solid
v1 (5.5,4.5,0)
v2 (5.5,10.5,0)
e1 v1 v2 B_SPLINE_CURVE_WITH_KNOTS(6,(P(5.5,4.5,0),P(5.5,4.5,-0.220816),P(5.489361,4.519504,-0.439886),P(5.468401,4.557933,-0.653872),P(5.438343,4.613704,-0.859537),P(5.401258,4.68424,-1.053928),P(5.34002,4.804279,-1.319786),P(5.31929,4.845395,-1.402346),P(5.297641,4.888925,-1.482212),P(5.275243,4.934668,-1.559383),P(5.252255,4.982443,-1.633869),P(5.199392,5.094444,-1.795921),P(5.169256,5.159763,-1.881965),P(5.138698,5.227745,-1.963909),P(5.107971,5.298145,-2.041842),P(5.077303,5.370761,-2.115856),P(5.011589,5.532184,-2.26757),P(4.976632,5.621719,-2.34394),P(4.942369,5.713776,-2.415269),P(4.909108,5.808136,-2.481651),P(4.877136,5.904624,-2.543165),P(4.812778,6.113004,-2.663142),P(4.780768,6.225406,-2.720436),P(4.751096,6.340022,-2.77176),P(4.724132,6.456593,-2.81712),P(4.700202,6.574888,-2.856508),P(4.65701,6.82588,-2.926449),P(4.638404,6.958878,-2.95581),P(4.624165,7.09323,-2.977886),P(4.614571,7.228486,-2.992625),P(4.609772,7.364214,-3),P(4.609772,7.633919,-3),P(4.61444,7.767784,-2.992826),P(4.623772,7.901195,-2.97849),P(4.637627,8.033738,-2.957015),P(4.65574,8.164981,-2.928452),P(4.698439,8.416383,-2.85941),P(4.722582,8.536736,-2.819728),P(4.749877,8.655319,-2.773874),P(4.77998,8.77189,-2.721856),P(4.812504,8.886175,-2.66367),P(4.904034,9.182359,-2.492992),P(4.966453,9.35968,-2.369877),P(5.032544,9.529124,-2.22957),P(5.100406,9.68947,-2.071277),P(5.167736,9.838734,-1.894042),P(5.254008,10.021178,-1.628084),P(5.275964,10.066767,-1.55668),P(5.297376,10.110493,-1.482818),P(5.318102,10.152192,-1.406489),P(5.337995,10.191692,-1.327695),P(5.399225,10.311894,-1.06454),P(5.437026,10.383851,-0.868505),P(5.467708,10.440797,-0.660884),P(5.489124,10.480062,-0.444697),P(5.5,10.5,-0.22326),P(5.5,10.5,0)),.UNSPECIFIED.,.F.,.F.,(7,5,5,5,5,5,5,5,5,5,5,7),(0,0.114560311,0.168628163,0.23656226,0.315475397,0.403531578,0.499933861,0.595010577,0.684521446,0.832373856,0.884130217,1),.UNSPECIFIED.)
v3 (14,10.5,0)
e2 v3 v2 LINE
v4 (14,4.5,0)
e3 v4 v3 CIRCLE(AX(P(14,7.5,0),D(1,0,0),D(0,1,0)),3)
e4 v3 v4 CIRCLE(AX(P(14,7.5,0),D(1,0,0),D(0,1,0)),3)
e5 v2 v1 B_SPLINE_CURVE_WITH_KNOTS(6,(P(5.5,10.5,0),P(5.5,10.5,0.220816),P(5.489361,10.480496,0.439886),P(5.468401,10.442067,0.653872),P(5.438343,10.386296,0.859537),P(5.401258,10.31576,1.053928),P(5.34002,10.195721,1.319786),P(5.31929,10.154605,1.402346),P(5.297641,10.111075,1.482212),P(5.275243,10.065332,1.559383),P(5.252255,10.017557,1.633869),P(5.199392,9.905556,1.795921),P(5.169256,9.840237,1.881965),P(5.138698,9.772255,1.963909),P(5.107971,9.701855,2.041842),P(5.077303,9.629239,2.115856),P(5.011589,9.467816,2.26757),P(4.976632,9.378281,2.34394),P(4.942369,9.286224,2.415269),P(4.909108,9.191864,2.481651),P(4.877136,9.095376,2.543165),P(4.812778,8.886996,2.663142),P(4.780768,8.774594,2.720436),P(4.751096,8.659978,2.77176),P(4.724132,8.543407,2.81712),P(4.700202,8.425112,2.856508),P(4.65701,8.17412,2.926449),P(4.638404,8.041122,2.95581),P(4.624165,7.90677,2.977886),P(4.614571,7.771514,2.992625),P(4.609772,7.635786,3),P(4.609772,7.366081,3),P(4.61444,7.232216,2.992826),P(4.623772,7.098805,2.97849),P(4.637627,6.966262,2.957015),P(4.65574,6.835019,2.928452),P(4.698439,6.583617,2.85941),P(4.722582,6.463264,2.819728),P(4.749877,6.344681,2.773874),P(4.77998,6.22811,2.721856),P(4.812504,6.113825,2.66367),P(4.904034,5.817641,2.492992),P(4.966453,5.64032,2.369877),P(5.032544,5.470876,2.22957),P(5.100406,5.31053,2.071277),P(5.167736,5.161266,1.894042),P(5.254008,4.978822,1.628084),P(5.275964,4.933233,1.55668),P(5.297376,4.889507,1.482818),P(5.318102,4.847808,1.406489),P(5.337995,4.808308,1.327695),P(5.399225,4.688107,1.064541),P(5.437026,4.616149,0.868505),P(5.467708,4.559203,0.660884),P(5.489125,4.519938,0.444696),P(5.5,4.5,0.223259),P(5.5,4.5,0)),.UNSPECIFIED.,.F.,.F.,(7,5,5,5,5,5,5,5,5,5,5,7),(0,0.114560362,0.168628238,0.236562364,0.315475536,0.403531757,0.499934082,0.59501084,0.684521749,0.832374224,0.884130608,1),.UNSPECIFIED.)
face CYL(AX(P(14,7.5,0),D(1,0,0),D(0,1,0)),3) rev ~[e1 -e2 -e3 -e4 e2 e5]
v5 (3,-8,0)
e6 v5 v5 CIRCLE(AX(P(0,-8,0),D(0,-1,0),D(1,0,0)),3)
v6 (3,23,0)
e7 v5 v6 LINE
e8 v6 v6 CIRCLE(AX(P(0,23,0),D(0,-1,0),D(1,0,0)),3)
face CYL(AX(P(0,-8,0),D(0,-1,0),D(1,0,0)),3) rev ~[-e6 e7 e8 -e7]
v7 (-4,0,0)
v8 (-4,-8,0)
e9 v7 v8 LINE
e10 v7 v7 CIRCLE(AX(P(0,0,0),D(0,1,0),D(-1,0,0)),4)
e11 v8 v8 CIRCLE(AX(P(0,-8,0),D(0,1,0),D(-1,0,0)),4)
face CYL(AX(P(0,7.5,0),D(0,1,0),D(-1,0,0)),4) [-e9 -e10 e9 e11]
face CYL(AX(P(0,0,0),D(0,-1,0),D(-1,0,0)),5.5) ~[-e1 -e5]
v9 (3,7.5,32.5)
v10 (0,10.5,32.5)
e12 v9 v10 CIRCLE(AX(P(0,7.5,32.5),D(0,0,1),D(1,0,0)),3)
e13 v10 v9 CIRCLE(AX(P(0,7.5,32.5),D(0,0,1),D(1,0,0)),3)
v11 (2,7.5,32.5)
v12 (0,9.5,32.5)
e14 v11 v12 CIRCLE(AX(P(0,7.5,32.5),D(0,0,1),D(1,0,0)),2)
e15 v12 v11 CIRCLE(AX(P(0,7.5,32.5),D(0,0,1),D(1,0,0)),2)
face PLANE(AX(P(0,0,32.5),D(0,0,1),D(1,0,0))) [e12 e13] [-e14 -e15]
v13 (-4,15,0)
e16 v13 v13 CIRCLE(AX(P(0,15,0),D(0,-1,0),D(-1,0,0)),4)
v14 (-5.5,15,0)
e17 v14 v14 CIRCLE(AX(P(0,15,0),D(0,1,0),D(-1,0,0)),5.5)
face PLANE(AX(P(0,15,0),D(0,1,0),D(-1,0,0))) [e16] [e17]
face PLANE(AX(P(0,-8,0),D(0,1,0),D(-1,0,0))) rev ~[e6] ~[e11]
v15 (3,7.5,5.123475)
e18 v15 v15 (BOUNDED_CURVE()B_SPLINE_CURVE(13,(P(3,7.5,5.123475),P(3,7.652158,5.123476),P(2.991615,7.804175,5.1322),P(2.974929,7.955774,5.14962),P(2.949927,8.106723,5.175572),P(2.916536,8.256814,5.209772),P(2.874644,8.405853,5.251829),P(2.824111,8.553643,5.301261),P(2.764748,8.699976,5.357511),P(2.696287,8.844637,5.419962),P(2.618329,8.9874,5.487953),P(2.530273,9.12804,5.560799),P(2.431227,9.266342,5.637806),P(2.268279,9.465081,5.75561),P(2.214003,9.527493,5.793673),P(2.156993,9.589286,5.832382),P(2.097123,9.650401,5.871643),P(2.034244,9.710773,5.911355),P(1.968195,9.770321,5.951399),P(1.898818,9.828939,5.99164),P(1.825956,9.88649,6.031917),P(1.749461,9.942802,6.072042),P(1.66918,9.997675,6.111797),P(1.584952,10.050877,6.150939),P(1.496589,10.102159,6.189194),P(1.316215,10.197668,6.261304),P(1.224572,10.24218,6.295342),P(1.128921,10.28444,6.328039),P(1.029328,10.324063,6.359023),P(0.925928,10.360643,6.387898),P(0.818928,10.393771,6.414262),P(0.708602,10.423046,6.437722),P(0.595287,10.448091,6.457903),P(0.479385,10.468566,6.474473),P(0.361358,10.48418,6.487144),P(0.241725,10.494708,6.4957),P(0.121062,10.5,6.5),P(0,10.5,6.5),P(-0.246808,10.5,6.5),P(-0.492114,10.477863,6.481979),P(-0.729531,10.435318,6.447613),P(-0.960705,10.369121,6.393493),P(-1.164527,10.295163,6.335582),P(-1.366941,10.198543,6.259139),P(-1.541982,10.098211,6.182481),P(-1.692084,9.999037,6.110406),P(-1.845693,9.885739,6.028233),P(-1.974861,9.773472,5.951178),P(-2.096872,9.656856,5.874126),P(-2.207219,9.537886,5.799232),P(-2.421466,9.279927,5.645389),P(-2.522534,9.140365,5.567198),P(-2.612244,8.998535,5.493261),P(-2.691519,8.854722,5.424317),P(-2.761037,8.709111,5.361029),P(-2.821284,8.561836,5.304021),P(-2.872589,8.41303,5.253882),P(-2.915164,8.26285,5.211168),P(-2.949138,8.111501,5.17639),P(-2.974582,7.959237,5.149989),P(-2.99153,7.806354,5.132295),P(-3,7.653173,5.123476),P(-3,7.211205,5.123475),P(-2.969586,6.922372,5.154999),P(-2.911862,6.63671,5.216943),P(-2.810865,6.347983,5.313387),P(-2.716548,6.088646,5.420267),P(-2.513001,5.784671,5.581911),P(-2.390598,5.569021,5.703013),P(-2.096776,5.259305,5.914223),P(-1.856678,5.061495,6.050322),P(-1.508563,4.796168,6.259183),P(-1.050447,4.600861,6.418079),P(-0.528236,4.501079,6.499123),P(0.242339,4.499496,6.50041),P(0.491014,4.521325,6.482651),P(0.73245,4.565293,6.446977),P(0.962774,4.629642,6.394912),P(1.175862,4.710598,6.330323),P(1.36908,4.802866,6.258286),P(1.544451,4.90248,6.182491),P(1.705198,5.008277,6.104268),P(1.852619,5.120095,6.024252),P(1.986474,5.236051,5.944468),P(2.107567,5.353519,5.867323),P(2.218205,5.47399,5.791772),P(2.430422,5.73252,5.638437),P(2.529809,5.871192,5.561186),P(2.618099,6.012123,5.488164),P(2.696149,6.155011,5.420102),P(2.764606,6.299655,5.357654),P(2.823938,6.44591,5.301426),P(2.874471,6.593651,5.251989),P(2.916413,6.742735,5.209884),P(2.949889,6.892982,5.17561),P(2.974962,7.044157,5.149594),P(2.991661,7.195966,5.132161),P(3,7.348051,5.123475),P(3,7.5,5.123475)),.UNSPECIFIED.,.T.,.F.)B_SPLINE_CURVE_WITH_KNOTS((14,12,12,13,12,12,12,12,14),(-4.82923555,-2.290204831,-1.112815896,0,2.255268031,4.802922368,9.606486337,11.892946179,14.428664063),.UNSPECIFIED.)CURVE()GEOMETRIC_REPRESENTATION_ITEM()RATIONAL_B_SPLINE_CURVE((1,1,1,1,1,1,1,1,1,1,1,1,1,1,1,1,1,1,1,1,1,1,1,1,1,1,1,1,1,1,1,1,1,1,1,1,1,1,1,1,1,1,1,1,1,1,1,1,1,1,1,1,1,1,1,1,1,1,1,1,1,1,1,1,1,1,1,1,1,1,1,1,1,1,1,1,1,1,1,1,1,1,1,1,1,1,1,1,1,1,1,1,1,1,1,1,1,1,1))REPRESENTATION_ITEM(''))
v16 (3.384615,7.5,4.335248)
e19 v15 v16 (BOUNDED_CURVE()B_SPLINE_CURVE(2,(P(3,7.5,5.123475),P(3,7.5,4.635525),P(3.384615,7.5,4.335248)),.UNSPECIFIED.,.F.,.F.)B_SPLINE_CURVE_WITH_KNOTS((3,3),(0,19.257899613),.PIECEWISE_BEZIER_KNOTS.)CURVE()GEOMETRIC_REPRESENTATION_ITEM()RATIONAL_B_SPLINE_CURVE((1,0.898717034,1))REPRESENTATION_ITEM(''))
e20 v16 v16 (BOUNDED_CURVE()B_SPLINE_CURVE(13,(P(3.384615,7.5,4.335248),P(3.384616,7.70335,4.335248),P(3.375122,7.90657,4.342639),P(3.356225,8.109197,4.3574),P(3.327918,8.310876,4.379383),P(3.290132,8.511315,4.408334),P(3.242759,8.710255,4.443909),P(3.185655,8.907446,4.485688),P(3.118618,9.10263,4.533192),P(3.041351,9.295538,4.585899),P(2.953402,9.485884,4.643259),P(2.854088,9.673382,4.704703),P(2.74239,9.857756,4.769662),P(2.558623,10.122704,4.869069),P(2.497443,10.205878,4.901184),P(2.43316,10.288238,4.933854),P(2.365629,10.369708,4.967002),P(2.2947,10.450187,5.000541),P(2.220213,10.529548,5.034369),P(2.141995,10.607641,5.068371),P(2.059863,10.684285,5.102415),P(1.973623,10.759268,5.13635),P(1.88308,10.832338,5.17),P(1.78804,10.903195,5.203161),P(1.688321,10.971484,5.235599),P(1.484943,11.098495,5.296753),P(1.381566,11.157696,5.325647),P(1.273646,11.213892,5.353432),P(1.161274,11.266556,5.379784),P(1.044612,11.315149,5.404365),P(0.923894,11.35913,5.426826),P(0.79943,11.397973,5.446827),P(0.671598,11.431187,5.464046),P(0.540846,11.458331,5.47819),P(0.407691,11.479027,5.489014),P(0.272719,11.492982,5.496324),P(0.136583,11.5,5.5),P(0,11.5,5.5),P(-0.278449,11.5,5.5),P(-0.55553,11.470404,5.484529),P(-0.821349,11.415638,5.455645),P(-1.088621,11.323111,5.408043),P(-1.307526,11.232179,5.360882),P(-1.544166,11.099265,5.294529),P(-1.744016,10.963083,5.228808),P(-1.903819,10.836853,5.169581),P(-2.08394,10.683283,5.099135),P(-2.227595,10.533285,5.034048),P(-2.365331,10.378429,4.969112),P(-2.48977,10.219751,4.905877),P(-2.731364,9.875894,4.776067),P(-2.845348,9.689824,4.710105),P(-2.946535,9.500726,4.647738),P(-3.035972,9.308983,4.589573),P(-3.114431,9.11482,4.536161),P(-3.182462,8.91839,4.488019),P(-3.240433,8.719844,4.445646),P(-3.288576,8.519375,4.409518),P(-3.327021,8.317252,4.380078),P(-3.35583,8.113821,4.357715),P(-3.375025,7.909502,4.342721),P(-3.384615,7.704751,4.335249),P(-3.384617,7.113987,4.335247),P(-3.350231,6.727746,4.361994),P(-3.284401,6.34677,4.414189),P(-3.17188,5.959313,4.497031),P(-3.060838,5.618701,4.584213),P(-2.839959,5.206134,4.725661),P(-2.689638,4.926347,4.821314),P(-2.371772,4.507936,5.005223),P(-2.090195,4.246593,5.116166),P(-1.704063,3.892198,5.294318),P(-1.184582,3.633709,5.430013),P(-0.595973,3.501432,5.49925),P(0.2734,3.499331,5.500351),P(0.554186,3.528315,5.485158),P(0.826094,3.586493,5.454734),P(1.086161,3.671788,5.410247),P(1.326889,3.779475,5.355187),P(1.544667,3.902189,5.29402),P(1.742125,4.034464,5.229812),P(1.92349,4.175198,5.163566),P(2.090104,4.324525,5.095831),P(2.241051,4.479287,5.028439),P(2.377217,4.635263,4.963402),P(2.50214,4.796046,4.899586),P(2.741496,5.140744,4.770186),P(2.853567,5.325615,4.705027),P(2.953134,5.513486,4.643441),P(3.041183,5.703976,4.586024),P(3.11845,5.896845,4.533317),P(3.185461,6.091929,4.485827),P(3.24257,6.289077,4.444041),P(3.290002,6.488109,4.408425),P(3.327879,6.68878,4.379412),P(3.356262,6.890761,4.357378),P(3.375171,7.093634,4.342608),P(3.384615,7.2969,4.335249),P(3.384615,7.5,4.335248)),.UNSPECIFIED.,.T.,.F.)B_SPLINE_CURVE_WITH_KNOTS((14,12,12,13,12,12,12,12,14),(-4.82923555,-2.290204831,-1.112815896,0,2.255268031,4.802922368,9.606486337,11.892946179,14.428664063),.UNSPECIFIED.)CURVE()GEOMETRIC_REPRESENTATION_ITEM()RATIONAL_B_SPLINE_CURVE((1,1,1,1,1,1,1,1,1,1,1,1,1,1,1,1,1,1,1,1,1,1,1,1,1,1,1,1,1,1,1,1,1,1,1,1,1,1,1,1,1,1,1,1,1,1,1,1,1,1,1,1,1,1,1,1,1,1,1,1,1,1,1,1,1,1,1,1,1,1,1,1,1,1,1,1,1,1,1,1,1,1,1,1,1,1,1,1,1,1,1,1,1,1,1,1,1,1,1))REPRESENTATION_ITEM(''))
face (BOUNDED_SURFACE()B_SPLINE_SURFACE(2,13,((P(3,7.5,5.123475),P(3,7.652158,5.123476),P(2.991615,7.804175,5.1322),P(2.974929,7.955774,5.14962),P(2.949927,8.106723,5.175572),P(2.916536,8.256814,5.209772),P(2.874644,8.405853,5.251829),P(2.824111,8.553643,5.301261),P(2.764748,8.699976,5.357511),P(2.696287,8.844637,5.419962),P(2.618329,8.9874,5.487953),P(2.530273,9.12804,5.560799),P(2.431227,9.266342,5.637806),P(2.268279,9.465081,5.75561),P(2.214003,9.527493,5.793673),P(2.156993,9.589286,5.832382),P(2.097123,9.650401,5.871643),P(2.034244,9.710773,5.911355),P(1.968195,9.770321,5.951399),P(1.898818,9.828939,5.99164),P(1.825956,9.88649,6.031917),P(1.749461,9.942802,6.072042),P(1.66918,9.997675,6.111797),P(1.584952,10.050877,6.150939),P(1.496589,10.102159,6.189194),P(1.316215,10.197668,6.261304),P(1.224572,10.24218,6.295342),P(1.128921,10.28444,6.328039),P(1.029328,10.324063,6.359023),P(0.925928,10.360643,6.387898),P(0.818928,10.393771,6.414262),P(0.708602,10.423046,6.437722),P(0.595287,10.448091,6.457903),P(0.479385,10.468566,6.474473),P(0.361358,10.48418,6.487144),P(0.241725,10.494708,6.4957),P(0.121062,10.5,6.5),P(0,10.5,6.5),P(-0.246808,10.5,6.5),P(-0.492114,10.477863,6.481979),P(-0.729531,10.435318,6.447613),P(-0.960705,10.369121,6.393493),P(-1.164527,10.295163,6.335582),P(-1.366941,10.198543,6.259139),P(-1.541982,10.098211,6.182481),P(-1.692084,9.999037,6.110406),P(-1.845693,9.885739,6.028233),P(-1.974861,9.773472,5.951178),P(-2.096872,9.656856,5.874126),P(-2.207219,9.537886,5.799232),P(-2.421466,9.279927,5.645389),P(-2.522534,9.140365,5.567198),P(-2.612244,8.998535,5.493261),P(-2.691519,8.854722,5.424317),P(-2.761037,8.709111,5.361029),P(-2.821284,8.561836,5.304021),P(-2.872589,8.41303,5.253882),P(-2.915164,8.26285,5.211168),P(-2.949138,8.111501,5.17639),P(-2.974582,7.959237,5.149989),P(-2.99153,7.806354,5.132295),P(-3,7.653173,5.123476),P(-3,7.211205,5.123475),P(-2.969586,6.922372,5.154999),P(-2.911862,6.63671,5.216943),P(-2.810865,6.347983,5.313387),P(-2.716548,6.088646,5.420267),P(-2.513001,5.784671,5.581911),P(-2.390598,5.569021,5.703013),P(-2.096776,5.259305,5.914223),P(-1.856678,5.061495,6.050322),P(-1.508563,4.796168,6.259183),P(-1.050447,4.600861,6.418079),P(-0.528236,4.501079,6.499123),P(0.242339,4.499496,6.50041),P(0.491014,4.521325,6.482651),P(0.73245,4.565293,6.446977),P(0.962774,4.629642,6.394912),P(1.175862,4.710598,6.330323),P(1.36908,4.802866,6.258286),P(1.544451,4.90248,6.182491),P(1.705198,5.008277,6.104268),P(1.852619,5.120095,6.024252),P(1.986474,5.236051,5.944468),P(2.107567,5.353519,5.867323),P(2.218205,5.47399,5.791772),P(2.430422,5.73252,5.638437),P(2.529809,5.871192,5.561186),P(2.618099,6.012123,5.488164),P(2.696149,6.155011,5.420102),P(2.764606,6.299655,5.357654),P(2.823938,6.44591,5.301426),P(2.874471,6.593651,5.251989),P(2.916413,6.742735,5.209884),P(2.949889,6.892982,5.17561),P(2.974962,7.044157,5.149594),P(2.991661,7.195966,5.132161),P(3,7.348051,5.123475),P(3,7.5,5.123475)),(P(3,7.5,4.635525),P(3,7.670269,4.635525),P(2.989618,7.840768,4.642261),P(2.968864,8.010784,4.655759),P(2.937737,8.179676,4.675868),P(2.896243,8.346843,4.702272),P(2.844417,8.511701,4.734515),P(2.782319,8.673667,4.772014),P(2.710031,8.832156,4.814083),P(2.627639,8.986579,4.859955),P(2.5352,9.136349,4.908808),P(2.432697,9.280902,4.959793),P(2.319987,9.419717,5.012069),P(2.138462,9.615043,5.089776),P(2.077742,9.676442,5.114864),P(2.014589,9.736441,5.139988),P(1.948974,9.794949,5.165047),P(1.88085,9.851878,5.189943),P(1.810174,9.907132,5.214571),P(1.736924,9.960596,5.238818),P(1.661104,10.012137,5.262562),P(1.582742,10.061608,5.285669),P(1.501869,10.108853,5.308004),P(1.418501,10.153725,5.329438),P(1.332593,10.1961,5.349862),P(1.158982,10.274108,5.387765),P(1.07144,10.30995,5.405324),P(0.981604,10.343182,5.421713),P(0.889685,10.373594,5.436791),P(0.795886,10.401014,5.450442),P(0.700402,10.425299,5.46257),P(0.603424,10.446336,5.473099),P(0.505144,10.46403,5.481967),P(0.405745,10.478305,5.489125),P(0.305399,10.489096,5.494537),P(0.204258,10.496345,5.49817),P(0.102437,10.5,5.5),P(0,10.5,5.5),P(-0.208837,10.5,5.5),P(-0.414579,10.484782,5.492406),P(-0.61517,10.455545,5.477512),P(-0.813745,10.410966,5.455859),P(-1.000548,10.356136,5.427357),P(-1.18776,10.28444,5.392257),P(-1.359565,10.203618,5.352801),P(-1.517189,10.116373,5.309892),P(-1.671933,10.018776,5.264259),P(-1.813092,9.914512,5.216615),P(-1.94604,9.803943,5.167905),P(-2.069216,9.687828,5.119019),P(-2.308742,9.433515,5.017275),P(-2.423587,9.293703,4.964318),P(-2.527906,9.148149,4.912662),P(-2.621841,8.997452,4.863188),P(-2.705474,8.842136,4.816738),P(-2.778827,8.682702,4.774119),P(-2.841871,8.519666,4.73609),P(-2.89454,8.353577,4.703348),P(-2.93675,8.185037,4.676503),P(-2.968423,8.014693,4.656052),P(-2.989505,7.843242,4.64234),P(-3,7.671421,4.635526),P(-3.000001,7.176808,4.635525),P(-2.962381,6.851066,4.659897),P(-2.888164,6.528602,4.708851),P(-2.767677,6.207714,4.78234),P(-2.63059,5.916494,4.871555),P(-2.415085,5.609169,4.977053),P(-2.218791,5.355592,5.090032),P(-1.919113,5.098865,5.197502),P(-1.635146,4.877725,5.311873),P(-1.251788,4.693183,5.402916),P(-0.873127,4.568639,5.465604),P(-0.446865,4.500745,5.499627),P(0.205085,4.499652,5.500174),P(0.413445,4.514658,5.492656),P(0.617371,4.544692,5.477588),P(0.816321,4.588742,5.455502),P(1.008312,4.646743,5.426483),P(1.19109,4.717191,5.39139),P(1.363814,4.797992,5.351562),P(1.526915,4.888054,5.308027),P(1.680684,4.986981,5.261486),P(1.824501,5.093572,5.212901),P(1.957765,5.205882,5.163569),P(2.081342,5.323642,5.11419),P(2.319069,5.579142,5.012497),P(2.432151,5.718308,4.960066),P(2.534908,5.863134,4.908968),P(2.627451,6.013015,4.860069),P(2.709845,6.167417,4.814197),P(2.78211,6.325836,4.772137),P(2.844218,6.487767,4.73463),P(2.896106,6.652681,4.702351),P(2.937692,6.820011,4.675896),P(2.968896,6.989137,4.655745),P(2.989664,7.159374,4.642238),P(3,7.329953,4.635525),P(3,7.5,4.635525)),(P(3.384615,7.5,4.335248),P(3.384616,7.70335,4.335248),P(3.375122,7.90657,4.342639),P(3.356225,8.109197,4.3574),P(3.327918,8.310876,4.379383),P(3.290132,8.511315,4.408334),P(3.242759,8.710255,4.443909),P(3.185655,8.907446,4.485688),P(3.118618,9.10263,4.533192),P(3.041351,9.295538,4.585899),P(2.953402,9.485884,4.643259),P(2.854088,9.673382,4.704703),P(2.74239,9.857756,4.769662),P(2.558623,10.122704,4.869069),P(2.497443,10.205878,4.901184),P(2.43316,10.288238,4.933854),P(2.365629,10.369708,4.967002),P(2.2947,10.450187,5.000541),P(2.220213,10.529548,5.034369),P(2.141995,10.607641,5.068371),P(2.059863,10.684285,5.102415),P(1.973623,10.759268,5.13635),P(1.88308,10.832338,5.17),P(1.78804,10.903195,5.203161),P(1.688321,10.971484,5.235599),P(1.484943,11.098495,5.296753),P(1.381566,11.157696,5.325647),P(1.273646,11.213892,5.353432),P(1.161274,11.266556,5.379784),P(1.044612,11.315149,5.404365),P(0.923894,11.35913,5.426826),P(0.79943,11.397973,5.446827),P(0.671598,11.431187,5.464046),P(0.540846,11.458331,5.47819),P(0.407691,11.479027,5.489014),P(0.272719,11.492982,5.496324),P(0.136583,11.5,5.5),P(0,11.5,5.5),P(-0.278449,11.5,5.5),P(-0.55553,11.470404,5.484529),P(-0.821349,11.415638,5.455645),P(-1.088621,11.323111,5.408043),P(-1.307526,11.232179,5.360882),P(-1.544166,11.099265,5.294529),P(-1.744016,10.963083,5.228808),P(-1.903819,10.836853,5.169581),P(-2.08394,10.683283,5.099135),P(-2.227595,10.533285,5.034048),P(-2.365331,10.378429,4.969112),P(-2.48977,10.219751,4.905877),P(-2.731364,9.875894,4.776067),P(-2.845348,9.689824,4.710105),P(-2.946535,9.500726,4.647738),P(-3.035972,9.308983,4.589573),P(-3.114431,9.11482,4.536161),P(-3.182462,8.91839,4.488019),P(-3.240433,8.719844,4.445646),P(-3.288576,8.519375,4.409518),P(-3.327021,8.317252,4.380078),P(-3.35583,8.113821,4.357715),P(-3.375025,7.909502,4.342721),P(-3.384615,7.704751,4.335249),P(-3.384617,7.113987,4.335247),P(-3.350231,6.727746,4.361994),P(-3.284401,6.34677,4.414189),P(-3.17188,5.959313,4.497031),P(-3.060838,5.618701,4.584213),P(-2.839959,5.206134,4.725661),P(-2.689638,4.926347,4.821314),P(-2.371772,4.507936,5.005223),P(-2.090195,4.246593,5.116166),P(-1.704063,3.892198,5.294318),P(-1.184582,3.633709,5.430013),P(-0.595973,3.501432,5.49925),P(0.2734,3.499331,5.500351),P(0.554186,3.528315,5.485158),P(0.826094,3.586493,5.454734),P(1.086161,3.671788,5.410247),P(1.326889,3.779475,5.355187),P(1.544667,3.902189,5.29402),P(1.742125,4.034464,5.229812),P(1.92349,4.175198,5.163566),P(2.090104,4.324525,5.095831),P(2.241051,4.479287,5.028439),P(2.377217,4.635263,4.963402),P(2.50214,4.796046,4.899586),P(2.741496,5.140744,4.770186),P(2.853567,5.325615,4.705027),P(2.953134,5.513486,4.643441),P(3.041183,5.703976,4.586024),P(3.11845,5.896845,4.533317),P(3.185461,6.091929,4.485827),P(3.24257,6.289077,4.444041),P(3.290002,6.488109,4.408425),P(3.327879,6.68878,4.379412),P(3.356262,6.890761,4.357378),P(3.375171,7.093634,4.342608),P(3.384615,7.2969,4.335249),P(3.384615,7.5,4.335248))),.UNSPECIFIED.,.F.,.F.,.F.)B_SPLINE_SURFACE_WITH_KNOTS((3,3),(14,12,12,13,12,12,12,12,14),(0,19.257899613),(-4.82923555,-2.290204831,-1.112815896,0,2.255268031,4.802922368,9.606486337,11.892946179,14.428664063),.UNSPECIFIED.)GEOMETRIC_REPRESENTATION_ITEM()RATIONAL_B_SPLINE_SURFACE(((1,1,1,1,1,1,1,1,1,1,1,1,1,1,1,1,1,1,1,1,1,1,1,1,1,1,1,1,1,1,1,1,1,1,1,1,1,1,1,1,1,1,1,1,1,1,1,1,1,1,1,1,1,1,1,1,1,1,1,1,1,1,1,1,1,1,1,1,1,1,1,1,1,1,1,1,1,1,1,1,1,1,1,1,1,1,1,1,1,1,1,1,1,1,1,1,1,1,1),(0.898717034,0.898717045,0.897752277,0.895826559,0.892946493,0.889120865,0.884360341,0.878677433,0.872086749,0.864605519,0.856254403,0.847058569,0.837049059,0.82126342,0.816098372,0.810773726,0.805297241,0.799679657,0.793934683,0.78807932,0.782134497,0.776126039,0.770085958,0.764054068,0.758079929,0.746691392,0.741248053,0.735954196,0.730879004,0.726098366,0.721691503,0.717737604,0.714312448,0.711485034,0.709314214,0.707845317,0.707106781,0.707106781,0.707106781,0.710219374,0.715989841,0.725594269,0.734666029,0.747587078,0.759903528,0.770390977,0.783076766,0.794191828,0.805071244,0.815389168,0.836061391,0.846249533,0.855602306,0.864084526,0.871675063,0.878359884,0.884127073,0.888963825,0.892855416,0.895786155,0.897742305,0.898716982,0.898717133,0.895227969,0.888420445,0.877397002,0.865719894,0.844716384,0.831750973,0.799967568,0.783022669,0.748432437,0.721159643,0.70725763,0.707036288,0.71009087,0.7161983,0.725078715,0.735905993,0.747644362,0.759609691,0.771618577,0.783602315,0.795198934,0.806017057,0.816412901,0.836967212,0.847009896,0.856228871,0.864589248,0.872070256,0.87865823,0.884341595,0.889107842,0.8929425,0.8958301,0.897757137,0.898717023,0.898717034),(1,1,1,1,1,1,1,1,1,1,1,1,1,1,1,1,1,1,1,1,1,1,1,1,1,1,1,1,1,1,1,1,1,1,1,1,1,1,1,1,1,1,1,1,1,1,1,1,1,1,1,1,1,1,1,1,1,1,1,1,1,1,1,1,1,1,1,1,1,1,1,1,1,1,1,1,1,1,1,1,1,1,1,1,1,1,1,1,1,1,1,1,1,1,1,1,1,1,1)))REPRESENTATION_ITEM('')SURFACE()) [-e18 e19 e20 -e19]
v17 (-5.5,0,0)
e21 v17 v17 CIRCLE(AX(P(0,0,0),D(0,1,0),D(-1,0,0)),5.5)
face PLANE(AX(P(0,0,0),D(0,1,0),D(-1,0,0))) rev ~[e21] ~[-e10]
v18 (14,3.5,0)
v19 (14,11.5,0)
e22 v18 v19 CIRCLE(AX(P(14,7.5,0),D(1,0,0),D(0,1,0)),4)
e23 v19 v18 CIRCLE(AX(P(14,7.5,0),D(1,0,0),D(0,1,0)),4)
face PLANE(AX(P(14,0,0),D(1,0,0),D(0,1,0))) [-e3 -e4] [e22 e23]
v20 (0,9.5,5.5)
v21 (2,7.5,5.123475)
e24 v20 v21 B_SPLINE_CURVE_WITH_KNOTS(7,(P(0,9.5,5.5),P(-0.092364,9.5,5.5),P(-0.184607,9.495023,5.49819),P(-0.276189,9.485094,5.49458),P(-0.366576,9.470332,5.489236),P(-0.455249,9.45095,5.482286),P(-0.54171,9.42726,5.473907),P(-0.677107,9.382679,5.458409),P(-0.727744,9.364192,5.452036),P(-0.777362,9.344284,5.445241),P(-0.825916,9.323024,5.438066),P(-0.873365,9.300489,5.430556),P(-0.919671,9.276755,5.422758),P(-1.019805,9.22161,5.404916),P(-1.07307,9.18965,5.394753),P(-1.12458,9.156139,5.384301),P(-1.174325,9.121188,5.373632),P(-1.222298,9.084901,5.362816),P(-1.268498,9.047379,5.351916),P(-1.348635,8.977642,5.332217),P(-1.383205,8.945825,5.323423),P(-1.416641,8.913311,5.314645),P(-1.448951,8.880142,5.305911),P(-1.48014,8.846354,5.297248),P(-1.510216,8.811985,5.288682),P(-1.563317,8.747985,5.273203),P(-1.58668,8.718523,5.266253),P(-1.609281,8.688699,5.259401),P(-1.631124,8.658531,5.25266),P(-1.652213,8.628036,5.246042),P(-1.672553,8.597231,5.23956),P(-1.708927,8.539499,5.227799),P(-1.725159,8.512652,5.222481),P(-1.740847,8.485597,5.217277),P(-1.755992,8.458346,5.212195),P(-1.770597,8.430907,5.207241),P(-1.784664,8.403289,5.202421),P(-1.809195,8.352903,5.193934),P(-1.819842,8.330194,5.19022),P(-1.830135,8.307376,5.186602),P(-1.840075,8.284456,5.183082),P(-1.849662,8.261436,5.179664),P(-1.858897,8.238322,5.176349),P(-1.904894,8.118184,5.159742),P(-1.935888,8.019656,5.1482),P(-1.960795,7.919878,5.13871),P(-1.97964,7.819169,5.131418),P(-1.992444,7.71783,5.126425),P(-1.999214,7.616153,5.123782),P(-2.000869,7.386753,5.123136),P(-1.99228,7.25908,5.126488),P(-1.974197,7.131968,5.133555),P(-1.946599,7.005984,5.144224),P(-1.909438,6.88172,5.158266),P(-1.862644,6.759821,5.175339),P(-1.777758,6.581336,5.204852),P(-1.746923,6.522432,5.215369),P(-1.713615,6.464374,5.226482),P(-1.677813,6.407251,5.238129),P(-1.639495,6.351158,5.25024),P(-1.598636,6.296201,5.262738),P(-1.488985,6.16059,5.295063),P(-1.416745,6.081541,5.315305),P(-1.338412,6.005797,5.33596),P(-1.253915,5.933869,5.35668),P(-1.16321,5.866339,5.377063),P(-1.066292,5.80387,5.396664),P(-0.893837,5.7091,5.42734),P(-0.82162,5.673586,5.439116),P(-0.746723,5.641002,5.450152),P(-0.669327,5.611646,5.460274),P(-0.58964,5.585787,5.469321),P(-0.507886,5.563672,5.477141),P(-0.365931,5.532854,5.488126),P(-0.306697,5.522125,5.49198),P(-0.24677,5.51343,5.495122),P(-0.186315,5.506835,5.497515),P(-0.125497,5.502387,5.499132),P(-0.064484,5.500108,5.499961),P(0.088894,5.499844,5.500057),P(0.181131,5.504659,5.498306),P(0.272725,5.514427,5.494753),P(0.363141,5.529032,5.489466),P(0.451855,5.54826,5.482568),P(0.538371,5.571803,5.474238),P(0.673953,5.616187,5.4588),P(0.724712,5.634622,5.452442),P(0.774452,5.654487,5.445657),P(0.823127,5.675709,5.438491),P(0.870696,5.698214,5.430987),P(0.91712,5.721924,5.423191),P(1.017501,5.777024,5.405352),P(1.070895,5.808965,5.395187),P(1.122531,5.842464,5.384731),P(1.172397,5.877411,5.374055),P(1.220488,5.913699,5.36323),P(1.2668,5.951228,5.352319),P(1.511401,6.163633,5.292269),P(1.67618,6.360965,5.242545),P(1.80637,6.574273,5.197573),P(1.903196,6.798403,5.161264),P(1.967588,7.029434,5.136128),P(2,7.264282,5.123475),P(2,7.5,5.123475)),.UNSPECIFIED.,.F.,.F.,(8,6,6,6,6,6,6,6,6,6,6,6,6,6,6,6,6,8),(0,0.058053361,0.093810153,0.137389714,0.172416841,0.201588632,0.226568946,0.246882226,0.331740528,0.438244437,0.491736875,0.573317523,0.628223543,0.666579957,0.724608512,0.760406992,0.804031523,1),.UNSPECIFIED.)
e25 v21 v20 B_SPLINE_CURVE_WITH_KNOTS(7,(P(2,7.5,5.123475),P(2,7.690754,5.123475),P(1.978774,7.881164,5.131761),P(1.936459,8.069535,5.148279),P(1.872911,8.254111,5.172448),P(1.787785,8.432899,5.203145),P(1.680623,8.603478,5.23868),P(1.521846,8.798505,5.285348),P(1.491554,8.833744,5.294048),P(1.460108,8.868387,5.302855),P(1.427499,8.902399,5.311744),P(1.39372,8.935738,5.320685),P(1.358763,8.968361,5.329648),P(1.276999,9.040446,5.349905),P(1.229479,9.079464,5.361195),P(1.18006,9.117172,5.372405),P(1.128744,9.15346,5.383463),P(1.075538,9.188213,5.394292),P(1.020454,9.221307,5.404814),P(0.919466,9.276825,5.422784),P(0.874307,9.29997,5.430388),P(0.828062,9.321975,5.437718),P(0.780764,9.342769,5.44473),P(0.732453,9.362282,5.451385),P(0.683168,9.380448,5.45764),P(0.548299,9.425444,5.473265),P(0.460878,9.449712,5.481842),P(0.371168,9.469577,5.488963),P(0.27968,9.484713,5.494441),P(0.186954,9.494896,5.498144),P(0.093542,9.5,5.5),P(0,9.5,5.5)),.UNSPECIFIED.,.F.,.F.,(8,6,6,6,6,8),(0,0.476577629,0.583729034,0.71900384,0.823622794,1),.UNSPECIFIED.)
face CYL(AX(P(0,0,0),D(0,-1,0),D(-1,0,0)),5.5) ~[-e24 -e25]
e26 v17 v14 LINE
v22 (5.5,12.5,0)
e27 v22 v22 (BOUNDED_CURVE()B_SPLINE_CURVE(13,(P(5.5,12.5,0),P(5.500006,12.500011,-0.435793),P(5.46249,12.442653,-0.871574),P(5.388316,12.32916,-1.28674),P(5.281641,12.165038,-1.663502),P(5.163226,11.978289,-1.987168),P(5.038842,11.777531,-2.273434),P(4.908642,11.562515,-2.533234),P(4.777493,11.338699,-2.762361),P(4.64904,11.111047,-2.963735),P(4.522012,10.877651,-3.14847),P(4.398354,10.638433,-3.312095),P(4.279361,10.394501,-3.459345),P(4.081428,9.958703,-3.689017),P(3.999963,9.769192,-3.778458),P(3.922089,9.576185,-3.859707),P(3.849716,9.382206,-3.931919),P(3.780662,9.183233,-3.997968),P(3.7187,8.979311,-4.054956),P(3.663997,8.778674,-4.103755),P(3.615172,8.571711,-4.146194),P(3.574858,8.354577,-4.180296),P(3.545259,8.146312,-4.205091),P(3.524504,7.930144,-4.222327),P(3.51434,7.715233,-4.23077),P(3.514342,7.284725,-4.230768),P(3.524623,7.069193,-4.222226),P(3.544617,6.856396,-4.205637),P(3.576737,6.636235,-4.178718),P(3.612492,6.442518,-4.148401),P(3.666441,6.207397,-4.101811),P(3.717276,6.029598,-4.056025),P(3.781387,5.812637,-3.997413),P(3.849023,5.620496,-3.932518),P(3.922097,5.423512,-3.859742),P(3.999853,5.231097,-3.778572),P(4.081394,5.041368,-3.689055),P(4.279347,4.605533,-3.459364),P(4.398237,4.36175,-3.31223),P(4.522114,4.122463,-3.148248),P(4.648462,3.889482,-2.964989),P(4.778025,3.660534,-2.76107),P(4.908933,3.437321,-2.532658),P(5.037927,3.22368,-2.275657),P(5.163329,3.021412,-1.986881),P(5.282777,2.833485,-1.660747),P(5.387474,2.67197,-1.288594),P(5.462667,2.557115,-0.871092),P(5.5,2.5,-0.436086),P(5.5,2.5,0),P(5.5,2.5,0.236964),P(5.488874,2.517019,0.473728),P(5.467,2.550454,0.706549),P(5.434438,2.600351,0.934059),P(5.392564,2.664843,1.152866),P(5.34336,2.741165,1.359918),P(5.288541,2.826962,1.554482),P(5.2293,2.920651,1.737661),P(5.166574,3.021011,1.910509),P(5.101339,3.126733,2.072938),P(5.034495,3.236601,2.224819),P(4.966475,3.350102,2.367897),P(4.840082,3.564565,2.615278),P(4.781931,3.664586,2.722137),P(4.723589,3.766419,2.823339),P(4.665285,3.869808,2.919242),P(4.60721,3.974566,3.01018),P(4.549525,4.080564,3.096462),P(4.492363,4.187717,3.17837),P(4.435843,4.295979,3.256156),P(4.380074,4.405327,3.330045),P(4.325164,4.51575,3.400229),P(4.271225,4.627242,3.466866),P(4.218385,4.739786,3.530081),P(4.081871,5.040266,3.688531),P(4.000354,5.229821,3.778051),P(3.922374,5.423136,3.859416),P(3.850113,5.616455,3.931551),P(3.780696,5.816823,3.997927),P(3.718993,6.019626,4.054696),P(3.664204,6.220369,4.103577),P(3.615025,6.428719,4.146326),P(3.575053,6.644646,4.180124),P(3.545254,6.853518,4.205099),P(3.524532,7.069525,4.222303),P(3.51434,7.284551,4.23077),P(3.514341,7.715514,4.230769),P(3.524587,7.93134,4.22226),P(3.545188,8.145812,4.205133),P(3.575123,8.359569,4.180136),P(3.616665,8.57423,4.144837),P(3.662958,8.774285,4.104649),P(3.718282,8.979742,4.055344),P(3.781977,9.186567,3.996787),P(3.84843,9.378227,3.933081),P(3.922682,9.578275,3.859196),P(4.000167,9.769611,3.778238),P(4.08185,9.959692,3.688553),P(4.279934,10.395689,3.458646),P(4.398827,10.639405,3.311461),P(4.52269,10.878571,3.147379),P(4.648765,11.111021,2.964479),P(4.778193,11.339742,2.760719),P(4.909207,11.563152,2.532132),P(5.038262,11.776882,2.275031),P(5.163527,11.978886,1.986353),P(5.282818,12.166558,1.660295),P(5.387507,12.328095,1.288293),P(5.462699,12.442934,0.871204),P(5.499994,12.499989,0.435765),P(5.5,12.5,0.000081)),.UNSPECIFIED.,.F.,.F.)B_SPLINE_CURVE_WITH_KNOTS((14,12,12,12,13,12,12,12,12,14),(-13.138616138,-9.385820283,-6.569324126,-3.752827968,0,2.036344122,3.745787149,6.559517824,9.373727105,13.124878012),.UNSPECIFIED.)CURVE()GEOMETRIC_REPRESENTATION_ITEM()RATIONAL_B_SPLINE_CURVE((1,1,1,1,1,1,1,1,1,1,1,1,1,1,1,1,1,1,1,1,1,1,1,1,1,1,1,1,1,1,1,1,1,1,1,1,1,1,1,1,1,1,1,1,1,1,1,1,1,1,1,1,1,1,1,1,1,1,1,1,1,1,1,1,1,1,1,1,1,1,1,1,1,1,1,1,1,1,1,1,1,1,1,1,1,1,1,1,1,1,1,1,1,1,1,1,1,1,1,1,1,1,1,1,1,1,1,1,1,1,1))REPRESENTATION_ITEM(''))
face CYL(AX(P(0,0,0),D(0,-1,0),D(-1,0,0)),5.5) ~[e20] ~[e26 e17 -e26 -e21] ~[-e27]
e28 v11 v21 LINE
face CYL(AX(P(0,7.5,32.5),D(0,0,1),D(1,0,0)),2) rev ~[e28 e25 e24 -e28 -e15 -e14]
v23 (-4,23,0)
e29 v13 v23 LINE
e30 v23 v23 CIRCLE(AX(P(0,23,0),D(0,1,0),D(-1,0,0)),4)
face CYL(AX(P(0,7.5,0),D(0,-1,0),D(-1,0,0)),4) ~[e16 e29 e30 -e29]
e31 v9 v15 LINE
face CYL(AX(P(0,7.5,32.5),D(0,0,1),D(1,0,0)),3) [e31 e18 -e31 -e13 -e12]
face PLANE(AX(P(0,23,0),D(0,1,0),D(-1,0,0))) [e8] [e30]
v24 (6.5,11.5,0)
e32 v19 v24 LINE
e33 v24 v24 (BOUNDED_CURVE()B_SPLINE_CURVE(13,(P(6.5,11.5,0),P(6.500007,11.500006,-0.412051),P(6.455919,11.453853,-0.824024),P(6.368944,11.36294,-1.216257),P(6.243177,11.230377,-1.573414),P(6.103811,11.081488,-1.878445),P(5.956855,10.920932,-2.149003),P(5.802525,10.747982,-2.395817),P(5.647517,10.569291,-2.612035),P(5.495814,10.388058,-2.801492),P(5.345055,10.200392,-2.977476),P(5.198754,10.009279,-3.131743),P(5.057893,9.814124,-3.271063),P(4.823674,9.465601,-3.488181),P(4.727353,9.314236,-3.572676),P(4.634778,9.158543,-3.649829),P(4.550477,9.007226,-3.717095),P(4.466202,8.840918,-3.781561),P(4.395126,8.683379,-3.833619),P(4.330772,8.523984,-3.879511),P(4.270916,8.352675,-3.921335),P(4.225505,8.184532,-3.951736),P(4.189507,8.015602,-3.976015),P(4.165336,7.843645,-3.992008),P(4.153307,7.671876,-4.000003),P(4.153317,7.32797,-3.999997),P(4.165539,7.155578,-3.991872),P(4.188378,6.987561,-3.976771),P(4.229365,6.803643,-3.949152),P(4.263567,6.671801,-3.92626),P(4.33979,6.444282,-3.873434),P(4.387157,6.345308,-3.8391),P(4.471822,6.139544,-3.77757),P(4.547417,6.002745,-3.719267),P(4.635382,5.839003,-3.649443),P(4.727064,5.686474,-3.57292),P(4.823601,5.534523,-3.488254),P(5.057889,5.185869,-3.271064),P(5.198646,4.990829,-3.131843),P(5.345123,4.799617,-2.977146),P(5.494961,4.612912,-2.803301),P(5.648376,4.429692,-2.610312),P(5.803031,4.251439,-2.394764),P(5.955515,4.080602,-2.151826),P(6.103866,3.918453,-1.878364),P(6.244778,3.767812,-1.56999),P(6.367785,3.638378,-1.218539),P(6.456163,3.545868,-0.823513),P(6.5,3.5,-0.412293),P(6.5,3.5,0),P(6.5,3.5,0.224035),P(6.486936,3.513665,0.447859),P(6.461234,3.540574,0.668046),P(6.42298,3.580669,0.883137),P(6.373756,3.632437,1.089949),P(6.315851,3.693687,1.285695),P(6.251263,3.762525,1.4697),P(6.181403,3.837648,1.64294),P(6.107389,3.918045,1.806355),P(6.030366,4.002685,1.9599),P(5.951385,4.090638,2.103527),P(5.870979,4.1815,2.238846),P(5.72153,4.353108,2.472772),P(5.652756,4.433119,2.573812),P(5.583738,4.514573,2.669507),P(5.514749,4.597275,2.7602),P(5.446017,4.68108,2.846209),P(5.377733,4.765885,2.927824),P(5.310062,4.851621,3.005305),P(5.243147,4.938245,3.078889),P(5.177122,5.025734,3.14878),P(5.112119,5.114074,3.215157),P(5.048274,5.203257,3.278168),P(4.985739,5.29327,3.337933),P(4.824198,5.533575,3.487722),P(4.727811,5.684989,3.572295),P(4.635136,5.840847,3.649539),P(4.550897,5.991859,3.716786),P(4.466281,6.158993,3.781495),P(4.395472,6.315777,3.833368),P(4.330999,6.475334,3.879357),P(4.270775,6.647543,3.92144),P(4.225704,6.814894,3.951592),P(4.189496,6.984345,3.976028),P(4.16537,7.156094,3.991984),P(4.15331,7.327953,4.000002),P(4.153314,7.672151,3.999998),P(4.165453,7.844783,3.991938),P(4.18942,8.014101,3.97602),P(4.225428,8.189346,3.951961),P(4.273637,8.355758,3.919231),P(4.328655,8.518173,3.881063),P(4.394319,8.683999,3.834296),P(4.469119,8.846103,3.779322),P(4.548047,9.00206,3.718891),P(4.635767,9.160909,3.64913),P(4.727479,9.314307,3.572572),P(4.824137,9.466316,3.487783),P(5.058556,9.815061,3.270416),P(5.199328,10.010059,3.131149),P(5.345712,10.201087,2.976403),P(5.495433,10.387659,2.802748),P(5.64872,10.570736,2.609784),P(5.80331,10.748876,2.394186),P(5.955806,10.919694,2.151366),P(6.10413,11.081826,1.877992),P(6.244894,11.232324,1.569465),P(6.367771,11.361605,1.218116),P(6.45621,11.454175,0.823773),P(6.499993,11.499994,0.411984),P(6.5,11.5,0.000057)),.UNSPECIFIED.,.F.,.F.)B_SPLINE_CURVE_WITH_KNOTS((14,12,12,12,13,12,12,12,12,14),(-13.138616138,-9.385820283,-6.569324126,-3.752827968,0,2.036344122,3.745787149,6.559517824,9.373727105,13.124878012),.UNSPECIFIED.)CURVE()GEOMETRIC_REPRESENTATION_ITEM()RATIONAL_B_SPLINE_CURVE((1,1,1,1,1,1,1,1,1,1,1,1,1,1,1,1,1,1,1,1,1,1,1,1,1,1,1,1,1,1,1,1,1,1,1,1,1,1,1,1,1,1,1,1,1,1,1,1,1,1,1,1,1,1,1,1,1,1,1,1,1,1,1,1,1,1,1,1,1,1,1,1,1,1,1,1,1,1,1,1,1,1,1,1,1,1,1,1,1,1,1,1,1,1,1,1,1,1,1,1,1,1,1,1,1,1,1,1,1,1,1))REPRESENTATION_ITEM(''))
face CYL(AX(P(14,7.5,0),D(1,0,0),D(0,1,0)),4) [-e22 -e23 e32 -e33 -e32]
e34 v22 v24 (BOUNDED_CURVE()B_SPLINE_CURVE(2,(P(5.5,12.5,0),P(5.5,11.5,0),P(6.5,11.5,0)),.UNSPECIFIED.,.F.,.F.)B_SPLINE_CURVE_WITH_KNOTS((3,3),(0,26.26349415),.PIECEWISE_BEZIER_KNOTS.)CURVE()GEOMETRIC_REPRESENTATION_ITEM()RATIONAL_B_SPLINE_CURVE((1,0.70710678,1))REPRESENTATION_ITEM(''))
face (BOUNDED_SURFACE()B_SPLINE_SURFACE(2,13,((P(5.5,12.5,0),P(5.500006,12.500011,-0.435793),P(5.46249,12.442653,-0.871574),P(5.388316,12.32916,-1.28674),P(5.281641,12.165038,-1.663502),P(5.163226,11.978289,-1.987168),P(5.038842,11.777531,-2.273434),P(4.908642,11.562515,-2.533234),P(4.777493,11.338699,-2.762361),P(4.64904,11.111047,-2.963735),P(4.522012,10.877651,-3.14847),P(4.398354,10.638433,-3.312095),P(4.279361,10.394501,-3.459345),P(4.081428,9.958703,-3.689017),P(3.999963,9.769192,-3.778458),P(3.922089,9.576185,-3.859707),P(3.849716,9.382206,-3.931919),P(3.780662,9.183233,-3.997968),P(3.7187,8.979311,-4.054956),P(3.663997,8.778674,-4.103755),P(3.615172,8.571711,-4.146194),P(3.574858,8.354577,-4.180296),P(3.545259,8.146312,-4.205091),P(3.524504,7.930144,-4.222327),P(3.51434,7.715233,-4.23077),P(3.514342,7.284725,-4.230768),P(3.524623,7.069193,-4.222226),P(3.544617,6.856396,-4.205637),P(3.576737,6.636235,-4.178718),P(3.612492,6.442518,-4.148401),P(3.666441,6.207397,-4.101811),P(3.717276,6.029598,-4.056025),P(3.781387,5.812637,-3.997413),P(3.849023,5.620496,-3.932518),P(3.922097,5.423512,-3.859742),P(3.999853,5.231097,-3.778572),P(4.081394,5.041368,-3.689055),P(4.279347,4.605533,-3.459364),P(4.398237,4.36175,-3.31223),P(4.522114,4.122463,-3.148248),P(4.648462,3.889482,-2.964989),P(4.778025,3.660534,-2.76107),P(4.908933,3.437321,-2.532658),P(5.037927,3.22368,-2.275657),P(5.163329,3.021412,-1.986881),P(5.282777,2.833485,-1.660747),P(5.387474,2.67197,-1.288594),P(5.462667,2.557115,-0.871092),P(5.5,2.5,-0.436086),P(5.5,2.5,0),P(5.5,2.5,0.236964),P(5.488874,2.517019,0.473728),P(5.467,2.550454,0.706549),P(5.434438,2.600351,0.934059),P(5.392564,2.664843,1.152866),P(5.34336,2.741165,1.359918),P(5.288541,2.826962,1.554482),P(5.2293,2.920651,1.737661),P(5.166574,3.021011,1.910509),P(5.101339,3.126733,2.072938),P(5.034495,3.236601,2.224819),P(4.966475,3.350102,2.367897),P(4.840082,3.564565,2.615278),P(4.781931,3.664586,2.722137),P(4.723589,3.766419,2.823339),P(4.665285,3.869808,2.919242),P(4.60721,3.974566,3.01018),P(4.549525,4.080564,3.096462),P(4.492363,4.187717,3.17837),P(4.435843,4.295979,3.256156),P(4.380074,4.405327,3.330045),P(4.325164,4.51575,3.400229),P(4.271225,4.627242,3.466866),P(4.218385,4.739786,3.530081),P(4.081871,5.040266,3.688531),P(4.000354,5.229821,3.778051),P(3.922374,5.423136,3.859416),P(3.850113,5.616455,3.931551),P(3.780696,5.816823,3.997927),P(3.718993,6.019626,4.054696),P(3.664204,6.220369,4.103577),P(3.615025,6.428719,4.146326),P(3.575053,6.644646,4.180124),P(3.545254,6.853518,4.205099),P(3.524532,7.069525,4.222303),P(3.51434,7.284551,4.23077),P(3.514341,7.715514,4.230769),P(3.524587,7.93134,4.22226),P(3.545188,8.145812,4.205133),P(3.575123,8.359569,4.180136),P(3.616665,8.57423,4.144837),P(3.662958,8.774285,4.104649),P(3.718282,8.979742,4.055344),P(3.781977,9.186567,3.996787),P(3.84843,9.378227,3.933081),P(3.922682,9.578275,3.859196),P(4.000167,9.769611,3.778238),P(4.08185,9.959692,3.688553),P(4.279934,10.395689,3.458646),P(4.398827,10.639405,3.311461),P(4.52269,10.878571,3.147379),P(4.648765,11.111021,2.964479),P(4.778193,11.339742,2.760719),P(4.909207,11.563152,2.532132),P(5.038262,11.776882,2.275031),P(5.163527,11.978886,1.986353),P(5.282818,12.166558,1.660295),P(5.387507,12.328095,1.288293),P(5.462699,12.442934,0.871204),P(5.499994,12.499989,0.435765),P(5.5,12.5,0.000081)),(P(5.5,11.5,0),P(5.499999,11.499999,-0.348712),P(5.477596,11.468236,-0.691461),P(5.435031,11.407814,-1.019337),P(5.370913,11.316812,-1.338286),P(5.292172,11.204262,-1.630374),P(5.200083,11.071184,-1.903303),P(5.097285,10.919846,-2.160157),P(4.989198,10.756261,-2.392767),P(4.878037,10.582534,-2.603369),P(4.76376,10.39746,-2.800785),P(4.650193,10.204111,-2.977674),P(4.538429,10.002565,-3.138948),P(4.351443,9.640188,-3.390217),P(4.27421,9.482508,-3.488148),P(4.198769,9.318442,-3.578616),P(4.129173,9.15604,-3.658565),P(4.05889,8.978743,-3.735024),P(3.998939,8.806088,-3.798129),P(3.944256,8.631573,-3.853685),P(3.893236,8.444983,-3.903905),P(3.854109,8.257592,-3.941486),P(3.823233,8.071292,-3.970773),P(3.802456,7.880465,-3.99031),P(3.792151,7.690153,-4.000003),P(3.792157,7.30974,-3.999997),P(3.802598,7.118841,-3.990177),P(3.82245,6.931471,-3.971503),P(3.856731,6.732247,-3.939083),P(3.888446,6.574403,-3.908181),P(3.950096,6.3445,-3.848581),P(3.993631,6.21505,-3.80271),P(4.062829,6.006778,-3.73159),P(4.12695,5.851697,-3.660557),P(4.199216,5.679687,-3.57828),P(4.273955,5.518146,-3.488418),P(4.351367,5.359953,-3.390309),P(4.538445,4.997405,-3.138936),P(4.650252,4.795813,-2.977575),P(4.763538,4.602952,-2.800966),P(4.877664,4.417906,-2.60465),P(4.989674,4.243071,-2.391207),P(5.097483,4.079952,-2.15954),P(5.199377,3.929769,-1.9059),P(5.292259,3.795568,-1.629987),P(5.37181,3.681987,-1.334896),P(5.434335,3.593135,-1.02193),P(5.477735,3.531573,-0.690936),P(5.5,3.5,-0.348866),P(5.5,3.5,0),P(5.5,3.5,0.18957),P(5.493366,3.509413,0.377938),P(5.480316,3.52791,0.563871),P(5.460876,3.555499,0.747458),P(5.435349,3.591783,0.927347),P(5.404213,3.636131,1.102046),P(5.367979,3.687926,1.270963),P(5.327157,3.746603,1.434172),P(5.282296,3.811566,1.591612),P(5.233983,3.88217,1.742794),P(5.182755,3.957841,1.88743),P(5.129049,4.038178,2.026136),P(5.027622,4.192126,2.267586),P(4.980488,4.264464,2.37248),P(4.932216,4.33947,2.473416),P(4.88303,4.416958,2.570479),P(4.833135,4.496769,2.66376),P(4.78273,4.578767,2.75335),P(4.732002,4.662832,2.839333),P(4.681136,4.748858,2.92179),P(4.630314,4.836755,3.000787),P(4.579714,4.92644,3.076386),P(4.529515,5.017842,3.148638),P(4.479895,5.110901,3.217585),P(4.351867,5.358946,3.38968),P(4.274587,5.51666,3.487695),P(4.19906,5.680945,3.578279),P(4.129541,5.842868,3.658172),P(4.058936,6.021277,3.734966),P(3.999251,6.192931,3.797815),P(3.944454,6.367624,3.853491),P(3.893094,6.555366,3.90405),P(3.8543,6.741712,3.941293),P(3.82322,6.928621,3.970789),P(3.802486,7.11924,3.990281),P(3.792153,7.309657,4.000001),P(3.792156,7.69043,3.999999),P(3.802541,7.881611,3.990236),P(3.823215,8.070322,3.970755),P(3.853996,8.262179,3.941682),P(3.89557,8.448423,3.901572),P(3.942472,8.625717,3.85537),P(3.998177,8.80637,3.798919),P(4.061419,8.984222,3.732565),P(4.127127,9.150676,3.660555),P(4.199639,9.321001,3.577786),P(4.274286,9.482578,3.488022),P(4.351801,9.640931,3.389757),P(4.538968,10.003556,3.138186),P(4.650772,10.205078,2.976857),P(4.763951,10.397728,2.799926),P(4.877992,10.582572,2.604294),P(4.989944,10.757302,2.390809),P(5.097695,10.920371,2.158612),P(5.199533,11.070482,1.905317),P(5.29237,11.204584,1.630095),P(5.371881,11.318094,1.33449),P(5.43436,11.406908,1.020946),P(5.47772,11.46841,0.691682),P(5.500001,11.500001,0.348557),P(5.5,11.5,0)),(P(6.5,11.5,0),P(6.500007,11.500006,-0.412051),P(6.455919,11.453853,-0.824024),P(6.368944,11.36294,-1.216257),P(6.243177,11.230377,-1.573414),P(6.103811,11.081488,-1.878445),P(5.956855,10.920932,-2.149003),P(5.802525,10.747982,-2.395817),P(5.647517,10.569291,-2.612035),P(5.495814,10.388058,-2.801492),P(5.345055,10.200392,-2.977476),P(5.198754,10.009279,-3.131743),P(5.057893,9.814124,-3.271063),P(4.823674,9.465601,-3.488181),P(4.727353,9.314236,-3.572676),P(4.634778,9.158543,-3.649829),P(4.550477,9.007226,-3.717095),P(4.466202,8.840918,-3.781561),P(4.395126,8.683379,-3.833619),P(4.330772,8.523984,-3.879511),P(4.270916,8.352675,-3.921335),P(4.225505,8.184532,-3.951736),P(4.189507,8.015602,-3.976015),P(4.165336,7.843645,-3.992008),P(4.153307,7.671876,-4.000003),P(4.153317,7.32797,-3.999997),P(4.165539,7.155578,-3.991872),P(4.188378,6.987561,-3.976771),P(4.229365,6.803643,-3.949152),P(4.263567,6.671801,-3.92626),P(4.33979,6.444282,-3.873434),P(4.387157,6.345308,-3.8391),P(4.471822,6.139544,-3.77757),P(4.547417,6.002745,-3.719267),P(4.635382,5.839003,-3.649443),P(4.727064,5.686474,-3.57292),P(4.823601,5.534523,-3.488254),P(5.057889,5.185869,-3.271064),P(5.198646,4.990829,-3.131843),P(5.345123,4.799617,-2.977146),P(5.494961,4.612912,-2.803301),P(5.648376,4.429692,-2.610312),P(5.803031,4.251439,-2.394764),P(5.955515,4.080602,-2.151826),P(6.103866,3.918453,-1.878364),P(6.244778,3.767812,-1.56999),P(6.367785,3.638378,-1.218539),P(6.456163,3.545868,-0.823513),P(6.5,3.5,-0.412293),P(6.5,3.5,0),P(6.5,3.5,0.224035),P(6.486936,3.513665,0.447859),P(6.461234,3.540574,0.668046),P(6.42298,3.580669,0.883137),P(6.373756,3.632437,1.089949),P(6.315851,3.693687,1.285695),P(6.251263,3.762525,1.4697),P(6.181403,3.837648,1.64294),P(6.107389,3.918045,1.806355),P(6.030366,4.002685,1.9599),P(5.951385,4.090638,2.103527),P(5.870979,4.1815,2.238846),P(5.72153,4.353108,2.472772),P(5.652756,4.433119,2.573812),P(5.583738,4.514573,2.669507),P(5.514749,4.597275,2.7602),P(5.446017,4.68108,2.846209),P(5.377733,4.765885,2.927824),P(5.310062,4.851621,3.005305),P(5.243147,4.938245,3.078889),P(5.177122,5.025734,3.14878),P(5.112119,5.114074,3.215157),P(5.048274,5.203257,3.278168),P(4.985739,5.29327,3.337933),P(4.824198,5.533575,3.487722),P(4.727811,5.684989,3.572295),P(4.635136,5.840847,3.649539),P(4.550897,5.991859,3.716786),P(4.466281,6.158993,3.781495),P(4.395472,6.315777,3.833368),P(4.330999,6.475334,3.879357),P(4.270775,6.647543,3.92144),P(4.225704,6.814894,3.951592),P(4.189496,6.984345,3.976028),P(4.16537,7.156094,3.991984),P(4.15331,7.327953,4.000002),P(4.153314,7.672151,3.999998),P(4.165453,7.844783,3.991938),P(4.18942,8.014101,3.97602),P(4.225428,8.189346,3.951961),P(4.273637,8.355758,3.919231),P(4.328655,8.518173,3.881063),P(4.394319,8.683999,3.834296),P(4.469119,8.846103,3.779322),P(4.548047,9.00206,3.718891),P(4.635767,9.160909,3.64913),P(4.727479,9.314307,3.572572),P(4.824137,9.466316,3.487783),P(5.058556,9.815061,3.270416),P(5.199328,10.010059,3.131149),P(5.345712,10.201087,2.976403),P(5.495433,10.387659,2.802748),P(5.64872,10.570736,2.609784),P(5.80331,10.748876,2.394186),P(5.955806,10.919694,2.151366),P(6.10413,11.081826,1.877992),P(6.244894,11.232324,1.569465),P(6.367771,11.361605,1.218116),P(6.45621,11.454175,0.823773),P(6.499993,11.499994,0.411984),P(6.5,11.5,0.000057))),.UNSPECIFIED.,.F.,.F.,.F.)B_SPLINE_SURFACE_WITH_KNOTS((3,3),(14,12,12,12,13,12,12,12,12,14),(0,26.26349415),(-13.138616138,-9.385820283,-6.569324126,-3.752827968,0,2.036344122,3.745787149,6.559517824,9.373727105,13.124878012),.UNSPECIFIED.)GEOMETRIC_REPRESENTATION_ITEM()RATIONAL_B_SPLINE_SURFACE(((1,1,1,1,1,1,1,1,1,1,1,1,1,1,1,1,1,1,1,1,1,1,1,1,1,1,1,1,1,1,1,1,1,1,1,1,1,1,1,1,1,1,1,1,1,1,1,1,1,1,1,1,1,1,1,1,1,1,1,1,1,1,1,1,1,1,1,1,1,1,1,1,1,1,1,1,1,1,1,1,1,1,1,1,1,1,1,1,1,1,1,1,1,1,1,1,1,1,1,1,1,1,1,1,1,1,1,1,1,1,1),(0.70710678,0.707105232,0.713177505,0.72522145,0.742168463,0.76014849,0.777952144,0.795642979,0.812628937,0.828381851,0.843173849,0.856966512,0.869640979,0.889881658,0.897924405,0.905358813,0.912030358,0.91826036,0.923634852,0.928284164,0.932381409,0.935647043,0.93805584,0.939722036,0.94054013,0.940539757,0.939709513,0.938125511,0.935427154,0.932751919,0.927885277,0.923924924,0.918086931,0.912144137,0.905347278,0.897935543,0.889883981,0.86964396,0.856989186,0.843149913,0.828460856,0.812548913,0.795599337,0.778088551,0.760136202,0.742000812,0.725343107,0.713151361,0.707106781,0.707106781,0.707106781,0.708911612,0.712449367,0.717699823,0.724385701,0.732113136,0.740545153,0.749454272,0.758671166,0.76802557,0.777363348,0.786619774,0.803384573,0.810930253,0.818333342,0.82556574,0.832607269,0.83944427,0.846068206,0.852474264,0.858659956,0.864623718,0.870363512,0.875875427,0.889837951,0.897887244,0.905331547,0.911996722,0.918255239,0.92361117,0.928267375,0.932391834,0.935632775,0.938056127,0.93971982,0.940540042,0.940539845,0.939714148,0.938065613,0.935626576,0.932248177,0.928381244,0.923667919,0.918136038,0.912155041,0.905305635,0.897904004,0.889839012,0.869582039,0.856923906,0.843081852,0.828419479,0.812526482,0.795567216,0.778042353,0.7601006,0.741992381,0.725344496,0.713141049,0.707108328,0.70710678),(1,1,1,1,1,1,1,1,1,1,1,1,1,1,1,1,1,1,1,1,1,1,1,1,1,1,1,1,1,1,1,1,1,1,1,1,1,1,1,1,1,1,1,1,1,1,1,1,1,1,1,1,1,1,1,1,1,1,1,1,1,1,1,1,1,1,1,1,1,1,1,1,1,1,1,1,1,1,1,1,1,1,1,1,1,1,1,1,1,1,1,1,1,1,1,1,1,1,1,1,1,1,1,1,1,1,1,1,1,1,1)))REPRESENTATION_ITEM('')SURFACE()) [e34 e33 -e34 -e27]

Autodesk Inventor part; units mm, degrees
sketch "Sketch1" plane through (0, 0, 0) normal (0, 1, 0) x (-1, 0, 0)
  circle A0 centre (0, 0) radius 5.5
  dimension "d0" = 11
extrude "Extrusion1" add sketch "Sketch1" along normal blind 15
ref_plane "Work Plane1" through (14, 0, 0) normal (1, 0, 0) x (0, 1, 0)
sketch "Sketch2" plane through (14, 0, 0) normal (1, 0, 0) x (0, 1, 0)
  line L0 (0, 0) -> (7.5, 0)
  circle A0 centre (7.5, 0) radius 3
  circle A1 centre (7.5, 0) radius 4
  dimension "d4" = 7.5
  dimension "d5" = 6
  dimension "d6" = 8
extrude "Extrusion2" add sketch "Sketch2" against normal up to surface
ref_plane "Work Plane2" through (0, 7.5, 0) normal (0, 1, 0) x (-1, 0, 0)
sketch "Sketch3" plane through (0, 7.5, 0) normal (0, 1, 0) x (-1, 0, 0)
  circle A0 centre (0, 0) radius 4
  dimension "d10" = 8
extrude "Extrusion3" add sketch "Sketch3" along normal mid plane 31
sketch "Sketch4" plane through (0, -8, 0) normal (0, -1, 0) x (1, 0, 0)
  circle A0 centre (0, 0) radius 3
  dimension "d13" = 6
extrude "Extrusion4" cut sketch "Sketch4" against normal through all
ref_plane "Work Plane3" through (0, 0, 32.5) normal (0, 0, 1) x (1, 0, 0)
sketch "Sketch5" plane through (0, 0, 32.5) normal (0, 0, 1) x (1, 0, 0)
  line L0 (5.5, 15) -> (-5.5, 15) projected
  line L1 (0, 15) -> (0, 7.5)
  circle A0 centre (0, 7.5) radius 3
  circle A1 centre (0, 7.5) radius 2
  point P0 (0, 0)
  dimension "d17" = 7.5
  dimension "d18" = 6
  dimension "d19" = 4
extrude "Extrusion5" add sketch "Sketch5" against normal up to surface
fillet "Fillet1" radius 1 2 edges at (-3, 7.504, 4.6098) (5.5, 3.5, 0.015)
properties part number "Steam Inlet T Connector"
